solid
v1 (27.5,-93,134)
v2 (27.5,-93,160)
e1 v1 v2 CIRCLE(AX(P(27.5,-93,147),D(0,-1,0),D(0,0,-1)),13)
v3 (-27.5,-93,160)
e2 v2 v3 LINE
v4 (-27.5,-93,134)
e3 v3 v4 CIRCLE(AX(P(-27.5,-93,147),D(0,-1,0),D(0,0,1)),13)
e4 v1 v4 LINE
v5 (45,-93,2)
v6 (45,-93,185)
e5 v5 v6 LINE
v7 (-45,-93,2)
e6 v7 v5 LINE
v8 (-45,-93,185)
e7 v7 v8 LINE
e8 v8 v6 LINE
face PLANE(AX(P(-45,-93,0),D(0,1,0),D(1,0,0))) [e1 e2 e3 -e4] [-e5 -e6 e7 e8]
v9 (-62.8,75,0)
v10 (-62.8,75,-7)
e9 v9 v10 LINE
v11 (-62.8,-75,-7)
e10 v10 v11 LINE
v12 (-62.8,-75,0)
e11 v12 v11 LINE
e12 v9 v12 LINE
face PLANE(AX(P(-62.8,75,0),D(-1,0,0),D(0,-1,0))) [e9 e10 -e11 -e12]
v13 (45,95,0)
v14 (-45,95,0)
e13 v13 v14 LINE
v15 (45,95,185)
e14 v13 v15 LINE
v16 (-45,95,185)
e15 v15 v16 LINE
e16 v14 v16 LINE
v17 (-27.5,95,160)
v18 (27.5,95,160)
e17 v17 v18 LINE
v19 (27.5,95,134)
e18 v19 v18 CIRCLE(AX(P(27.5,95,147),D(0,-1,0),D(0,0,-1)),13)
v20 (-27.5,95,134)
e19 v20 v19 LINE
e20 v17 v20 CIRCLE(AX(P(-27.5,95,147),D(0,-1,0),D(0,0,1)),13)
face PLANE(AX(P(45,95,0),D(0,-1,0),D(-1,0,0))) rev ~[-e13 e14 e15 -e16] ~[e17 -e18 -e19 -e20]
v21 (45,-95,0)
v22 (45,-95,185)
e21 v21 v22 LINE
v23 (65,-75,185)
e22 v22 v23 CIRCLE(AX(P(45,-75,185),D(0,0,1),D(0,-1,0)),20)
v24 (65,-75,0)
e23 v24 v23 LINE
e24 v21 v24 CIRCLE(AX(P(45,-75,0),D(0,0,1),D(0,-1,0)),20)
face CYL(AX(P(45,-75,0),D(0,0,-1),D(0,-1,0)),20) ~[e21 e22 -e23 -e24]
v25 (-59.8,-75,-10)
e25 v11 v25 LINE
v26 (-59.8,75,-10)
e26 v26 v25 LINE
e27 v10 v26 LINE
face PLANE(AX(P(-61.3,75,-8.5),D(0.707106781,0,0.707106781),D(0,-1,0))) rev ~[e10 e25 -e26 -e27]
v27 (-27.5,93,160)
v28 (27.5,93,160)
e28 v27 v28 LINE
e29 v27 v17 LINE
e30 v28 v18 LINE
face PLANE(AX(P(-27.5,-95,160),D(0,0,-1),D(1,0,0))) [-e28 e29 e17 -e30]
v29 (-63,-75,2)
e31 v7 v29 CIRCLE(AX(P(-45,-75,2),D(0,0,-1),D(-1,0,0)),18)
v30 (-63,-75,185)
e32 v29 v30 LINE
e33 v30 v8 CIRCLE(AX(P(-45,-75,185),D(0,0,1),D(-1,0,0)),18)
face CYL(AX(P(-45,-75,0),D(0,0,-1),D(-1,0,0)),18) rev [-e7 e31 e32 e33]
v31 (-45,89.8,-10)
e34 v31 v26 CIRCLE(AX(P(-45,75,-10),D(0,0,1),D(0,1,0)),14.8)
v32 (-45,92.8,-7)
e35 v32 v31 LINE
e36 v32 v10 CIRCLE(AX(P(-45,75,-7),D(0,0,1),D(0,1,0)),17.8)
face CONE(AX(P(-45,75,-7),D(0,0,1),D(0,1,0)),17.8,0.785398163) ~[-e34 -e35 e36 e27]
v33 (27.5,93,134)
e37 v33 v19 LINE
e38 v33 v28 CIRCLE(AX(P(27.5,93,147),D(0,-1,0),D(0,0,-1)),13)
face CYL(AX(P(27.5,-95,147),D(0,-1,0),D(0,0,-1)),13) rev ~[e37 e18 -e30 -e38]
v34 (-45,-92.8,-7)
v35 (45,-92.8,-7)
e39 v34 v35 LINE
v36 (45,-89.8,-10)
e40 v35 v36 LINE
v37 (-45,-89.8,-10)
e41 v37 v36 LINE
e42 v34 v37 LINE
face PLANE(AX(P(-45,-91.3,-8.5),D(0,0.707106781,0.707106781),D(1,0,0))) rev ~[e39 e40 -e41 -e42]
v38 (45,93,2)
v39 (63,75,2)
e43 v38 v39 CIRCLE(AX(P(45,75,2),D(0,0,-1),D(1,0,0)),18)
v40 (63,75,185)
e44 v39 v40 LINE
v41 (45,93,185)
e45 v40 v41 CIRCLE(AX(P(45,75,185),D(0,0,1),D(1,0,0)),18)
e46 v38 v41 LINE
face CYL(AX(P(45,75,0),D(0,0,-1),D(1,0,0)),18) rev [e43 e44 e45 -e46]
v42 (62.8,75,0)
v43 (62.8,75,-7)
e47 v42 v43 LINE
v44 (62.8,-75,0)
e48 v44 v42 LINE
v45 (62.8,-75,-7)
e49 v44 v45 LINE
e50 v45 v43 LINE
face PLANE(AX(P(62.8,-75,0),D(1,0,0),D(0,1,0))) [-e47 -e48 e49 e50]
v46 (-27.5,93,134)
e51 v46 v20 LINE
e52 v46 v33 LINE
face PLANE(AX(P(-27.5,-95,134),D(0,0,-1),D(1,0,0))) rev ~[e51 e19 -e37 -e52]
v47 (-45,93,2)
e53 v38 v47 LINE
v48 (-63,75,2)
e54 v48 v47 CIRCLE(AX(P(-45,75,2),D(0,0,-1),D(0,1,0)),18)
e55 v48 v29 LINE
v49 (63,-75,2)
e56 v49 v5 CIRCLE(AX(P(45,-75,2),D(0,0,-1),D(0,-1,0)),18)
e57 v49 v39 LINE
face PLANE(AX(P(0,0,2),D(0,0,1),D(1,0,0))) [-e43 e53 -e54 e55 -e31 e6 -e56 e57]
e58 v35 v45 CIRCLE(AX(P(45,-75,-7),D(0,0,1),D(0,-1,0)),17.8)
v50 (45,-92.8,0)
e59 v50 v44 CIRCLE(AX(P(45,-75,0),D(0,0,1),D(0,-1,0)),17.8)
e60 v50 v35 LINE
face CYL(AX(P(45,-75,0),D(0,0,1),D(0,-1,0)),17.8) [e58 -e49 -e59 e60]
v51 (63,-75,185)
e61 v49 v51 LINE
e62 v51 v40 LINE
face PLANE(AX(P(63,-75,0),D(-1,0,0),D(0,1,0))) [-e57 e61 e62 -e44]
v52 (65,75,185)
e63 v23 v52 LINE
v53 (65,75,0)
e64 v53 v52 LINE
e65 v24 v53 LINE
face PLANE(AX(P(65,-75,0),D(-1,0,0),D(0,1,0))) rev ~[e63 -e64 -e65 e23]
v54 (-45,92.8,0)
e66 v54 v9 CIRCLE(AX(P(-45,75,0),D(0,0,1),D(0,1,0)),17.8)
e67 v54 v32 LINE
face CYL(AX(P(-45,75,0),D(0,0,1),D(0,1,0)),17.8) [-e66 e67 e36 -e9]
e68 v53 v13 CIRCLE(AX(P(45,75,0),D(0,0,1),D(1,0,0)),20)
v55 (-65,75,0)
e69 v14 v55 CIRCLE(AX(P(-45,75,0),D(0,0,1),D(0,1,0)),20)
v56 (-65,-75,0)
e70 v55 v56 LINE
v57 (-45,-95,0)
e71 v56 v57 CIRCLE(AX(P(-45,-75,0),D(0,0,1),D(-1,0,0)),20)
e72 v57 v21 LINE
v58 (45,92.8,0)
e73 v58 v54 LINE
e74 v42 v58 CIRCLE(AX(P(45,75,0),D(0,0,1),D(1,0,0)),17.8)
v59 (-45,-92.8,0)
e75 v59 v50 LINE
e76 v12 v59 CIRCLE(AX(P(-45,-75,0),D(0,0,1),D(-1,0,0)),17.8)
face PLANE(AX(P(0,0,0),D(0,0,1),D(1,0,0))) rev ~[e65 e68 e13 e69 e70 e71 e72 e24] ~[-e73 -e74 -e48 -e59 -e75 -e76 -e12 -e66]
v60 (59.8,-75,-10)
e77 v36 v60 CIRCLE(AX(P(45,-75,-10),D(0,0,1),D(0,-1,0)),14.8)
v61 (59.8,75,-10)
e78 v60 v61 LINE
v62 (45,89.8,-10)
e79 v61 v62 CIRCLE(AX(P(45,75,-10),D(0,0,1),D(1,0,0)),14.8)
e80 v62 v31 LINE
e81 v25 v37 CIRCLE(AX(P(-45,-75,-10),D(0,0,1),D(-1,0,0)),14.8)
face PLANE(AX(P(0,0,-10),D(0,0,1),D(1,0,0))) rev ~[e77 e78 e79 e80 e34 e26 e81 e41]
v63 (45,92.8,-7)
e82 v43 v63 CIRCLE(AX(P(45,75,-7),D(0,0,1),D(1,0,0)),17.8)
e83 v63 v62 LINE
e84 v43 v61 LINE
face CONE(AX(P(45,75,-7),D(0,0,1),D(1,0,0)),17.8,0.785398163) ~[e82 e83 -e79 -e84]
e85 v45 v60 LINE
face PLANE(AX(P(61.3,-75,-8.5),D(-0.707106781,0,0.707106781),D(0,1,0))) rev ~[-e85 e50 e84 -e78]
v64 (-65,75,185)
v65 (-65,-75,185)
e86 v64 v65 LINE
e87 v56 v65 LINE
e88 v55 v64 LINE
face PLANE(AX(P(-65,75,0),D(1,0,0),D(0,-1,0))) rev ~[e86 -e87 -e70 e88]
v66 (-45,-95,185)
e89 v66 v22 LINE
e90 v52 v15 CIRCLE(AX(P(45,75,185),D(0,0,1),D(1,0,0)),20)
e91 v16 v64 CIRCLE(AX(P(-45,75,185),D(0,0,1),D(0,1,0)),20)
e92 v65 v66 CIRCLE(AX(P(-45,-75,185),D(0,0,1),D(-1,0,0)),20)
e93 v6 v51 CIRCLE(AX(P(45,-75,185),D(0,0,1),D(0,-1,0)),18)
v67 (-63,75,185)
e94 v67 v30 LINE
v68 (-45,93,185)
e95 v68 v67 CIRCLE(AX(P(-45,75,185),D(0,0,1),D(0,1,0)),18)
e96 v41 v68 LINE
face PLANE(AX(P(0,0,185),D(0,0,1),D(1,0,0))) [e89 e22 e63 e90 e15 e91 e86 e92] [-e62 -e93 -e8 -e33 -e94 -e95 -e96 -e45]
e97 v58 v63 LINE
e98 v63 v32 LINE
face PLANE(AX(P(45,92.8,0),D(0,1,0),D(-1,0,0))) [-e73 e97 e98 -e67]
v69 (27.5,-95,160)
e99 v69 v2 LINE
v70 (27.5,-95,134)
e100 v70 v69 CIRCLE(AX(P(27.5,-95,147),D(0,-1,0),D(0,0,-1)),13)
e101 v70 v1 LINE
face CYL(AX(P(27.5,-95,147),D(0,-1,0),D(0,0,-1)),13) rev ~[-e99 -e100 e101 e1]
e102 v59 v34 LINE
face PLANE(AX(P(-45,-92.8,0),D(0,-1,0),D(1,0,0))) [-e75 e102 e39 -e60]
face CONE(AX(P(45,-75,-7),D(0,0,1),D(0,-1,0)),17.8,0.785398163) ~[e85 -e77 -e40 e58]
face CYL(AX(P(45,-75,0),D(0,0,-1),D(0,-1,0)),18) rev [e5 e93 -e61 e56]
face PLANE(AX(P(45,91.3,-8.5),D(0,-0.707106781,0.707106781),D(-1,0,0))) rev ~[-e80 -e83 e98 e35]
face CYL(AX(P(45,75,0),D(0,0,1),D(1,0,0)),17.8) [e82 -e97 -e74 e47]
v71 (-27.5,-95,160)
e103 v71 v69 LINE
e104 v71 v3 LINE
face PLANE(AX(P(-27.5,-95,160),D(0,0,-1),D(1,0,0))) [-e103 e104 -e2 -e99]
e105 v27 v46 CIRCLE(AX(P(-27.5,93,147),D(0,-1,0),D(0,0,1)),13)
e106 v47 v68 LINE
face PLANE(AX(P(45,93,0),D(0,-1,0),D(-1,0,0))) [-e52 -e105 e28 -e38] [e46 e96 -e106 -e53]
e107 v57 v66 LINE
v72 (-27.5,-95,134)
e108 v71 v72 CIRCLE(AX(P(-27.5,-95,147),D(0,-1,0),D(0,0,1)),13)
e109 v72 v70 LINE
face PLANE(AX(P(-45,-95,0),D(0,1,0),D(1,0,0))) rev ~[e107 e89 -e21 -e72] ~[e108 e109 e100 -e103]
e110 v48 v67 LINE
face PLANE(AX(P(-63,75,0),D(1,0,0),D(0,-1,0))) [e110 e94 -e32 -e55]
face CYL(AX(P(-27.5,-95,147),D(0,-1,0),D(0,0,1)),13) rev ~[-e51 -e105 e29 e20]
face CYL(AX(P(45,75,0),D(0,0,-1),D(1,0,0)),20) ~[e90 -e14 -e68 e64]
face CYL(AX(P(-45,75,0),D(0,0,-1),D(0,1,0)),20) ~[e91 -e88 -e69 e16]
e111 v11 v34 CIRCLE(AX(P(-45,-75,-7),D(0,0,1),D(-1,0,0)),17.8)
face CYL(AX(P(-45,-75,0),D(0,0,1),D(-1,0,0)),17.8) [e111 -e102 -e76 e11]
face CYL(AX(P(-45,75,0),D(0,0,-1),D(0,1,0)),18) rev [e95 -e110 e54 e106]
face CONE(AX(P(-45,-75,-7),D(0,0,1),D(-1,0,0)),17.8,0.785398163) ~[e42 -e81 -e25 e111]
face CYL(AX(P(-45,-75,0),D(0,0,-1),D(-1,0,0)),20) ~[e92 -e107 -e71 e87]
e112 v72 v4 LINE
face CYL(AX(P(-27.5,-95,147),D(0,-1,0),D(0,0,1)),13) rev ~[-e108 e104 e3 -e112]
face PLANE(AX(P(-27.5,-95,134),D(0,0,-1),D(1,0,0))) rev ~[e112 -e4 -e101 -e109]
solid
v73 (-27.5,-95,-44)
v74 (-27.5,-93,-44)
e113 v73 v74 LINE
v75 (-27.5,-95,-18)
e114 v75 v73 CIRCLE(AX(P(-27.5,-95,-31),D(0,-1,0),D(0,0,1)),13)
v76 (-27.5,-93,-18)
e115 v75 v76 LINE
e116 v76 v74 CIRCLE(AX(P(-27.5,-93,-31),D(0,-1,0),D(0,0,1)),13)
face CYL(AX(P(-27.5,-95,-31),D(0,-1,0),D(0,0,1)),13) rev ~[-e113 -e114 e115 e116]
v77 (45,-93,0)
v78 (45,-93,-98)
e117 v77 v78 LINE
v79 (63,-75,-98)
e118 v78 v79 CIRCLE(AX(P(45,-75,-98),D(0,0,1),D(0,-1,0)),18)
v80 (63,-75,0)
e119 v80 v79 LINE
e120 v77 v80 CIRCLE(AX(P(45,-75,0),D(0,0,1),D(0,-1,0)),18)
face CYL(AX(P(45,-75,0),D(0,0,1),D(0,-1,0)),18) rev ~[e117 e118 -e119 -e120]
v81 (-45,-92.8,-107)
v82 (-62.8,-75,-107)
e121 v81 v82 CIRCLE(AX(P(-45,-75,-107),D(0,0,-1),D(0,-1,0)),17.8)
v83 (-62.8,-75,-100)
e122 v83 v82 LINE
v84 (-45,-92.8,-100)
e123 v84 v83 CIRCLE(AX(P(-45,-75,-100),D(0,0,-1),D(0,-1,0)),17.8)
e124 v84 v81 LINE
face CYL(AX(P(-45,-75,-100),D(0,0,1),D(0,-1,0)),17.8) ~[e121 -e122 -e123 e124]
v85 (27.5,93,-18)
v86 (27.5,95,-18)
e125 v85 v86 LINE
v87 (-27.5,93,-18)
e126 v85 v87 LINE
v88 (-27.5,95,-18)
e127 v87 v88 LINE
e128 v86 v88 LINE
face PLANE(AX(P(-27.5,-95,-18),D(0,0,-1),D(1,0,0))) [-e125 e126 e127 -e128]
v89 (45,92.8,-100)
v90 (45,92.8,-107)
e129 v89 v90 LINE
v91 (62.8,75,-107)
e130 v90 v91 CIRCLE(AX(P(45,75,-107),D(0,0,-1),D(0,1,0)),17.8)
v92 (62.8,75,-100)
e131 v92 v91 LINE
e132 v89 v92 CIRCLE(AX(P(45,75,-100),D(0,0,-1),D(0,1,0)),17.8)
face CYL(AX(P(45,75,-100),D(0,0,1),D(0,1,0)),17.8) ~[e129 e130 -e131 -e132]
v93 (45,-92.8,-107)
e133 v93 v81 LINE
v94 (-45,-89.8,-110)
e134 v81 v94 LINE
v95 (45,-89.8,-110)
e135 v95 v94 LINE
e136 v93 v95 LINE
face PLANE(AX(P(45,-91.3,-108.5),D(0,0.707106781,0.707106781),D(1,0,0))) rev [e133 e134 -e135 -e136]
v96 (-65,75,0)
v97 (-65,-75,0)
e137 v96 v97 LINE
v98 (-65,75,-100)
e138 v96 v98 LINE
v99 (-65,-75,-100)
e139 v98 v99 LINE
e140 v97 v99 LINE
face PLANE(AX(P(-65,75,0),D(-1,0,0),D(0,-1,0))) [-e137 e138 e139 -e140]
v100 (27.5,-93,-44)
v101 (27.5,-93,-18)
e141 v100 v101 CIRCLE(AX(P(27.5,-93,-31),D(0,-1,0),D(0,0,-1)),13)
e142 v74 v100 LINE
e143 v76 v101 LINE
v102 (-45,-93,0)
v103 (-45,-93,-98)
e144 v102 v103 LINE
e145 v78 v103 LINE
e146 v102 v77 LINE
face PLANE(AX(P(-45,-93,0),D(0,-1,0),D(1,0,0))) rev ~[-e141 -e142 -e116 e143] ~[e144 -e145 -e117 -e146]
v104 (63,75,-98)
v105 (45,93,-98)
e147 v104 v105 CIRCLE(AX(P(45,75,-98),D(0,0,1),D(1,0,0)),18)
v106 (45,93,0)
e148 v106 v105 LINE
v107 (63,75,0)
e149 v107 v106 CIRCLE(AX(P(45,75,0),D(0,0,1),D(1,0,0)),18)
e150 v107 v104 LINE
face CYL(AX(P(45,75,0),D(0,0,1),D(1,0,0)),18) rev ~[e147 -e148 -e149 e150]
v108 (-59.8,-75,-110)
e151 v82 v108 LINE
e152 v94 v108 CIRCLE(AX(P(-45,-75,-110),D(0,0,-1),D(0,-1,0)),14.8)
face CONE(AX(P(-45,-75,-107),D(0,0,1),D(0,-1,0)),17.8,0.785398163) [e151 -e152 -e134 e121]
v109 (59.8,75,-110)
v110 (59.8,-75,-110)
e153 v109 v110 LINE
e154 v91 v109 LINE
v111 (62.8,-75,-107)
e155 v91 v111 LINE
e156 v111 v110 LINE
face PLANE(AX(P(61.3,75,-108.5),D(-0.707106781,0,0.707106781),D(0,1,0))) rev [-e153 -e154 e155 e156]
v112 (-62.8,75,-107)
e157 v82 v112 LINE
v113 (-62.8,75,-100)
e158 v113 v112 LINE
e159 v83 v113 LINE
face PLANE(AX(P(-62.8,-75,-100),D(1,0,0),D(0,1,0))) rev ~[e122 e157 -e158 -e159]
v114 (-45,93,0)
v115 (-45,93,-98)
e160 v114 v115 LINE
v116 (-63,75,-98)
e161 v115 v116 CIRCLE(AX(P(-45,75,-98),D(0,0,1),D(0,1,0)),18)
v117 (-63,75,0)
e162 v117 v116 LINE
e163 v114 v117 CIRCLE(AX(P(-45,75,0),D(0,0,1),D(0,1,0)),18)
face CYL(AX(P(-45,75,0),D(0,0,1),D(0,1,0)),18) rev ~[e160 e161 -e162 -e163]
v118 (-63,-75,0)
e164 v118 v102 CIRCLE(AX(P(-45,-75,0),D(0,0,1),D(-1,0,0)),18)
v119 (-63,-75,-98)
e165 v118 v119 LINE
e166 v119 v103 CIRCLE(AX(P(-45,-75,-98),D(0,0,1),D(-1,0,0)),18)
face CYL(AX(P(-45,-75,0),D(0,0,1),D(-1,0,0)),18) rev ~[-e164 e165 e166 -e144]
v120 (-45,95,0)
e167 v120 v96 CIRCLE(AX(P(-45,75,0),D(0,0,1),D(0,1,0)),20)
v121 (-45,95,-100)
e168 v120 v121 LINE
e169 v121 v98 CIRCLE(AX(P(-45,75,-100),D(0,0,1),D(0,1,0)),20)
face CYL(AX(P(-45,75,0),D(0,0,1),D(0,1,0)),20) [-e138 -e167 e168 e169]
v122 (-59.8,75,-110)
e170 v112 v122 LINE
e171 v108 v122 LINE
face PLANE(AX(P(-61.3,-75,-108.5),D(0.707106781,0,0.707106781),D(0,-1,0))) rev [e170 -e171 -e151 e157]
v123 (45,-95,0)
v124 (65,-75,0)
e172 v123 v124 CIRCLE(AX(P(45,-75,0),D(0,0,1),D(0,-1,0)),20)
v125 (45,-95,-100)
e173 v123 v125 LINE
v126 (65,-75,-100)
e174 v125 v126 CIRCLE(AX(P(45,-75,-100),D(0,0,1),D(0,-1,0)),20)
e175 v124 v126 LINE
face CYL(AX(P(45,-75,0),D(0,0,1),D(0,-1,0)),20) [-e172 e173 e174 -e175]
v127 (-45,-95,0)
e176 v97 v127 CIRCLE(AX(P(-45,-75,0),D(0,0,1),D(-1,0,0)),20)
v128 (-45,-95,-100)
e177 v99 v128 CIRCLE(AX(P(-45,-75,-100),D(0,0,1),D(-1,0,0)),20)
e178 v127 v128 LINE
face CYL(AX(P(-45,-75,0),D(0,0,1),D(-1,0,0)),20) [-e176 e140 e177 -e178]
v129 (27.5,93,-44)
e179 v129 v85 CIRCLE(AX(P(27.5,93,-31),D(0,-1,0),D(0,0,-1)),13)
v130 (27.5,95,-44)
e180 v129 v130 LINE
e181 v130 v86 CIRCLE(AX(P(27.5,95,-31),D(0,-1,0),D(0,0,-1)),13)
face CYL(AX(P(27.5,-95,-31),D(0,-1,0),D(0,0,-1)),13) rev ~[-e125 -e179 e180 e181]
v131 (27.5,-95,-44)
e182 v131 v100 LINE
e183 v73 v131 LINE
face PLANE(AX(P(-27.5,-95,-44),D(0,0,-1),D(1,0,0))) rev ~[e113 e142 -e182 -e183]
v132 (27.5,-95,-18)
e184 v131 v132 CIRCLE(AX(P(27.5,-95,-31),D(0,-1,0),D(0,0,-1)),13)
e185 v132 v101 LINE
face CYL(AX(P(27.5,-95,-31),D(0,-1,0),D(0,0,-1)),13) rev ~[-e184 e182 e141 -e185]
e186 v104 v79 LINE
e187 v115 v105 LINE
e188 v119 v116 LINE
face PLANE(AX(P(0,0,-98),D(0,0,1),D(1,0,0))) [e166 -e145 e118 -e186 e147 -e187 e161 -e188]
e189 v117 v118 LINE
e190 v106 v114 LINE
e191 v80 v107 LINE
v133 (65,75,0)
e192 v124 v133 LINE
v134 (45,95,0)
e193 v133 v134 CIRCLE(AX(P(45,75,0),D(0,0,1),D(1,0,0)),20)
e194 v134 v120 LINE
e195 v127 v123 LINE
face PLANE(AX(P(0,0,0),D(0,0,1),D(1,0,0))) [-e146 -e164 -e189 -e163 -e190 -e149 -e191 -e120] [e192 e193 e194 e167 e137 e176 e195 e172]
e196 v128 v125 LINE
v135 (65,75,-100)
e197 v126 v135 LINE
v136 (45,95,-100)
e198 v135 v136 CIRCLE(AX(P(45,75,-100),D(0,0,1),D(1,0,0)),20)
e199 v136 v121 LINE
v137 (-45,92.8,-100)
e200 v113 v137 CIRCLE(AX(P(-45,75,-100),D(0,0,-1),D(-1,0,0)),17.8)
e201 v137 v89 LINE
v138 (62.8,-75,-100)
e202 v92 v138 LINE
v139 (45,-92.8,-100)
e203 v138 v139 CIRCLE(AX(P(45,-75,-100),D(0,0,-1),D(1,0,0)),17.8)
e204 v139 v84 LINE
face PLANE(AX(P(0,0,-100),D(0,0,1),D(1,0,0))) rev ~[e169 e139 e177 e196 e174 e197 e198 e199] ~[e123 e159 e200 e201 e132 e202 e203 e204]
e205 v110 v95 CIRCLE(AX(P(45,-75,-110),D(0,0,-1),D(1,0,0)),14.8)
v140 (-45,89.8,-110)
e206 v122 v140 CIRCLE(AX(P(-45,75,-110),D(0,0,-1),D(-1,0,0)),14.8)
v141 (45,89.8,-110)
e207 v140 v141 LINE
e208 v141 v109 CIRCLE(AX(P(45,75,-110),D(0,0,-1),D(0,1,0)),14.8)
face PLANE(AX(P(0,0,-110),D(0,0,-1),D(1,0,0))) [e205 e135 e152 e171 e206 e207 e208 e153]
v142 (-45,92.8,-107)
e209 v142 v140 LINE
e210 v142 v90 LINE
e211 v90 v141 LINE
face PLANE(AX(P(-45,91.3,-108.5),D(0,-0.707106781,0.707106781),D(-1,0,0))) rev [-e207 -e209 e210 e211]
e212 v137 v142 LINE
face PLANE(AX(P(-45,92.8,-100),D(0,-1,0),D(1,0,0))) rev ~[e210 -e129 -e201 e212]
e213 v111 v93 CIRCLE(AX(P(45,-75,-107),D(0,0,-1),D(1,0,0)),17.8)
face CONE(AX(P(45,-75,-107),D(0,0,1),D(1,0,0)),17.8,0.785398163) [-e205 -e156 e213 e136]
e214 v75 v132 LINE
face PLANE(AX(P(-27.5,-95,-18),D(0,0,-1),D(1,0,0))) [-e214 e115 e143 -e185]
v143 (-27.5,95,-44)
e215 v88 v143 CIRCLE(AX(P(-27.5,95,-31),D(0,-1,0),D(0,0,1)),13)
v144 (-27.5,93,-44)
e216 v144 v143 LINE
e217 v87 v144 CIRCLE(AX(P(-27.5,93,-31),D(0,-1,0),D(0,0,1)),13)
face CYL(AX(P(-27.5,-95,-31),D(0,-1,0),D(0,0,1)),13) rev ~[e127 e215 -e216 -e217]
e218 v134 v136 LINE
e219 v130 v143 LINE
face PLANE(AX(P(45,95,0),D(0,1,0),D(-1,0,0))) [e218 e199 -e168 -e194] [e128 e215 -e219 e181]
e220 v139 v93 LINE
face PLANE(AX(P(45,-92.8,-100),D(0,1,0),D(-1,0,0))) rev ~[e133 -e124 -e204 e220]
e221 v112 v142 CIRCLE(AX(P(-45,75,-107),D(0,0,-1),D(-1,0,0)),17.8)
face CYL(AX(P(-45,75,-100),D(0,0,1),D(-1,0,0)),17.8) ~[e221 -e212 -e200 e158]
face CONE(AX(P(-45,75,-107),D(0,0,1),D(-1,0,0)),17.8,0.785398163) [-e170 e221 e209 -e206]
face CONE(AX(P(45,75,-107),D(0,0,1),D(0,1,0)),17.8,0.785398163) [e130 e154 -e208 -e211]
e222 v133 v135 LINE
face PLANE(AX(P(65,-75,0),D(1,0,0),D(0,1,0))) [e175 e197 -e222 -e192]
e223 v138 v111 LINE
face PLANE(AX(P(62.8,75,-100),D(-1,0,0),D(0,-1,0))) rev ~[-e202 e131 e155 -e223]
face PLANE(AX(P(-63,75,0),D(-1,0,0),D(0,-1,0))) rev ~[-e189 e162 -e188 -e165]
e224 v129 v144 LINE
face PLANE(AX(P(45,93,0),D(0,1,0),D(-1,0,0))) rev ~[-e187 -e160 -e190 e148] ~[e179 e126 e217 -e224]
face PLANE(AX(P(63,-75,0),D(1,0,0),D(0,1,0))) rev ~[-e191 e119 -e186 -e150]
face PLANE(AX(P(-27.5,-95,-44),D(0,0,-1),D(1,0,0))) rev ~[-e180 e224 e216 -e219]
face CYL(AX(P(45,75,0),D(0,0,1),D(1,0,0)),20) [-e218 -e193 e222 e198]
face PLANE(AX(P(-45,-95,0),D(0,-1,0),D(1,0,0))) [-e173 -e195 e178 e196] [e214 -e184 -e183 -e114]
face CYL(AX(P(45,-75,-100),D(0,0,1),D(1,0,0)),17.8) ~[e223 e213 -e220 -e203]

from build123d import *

# Parameters (mm, degrees)
F2_DEPTH  = 185
F3_T      = -2
F4_DEPTH  = 10
F5_DEPTH  = 100
F6_T      = -2
F8_DEPTH  = 10
F9_SIZE   = 3
F9_2_SIZE = 3
F10_W     = 55
F10_H     = 26
F11_DEPTH = 190.001


with BuildPart() as f2:
    # F1 (on Top) → F2 (new body)
    with BuildSketch(Plane.XY):
        with BuildLine():
            ThreePointArc((65, 75), (59.1421356237, 89.1421356237), (45, 95))
            Line((45, 95), (-45, 95))
            ThreePointArc((-45, 95), (-59.1421356237, 89.1421356237), (-65, 75))
            Line((-65, 75), (-65, -75))
            ThreePointArc((-65, -75), (-59.1421356237, -89.1421356237), (-45, -95))
            Line((-45, -95), (45, -95))
            ThreePointArc((45, -95), (59.1421356237, -89.1421356237), (65, -75))
            Line((65, -75), (65, 75))
        make_face()
        with BuildLine():
            Line((-62.8, -75), (-62.8, 75))
            ThreePointArc((-62.8, 75), (-57.5865007051, 87.5865007051), (-45, 92.8))
            Line((-45, 92.8), (45, 92.8))
            ThreePointArc((45, 92.8), (57.5865007051, 87.5865007051), (62.8, 75))
            Line((62.8, 75), (62.8, -75))
            ThreePointArc((62.8, -75), (57.5865007051, -87.5865007051), (45, -92.8))
            Line((45, -92.8), (-45, -92.8))
            ThreePointArc((-45, -92.8), (-57.5865007051, -87.5865007051), (-62.8, -75))
        make_face(mode=Mode.SUBTRACT)
        with BuildLine():
            ThreePointArc((-45, 92.8), (-57.5865007051, 87.5865007051), (-62.8, 75))
            Line((-62.8, 75), (-62.8, -75))
            ThreePointArc((-62.8, -75), (-57.5865007051, -87.5865007051), (-45, -92.8))
            Line((-45, -92.8), (45, -92.8))
            ThreePointArc((45, -92.8), (57.5865007051, -87.5865007051), (62.8, -75))
            Line((62.8, -75), (62.8, 75))
            ThreePointArc((62.8, 75), (57.5865007051, 87.5865007051), (45, 92.8))
            Line((45, 92.8), (-45, 92.8))
        make_face()
    extrude(amount=F2_DEPTH)

    # F3
    f3_openings = [f2.faces().sort_by_distance(p)[0] for p in [
        (0, 0, 185),
    ]]
    offset(amount=F3_T, openings=f3_openings)

    # F1 (on Top) → F4 (join)
    with BuildSketch(Plane.XY):
        with BuildLine():
            ThreePointArc((-45, 92.8), (-57.5865007051, 87.5865007051), (-62.8, 75))
            Line((-62.8, 75), (-62.8, -75))
            ThreePointArc((-62.8, -75), (-57.5865007051, -87.5865007051), (-45, -92.8))
            Line((-45, -92.8), (45, -92.8))
            ThreePointArc((45, -92.8), (57.5865007051, -87.5865007051), (62.8, -75))
            Line((62.8, -75), (62.8, 75))
            ThreePointArc((62.8, 75), (57.5865007051, 87.5865007051), (45, 92.8))
            Line((45, 92.8), (-45, 92.8))
        make_face()
    extrude(amount=-F4_DEPTH)

    # F9#2
    f9_2_edges = [f2.edges().sort_by_distance(p)[0] for p in [
        (-57.586501, 87.586501, -10),
        (-62.8, 0, -10),
        (-57.586501, -87.586501, -10),
        (0, -92.8, -10),
        (57.586501, -87.586501, -10),
        (62.8, 0, -10),
        (57.586501, 87.586501, -10),
        (0, 92.8, -10),
    ]]
    chamfer(f9_2_edges, length=F9_2_SIZE)


with BuildPart() as f5:
    # F1 (on Top) → F5 (new body)
    with BuildSketch(Plane.XY):
        with BuildLine():
            ThreePointArc((65, 75), (59.1421356237, 89.1421356237), (45, 95))
            Line((45, 95), (-45, 95))
            ThreePointArc((-45, 95), (-59.1421356237, 89.1421356237), (-65, 75))
            Line((-65, 75), (-65, -75))
            ThreePointArc((-65, -75), (-59.1421356237, -89.1421356237), (-45, -95))
            Line((-45, -95), (45, -95))
            ThreePointArc((45, -95), (59.1421356237, -89.1421356237), (65, -75))
            Line((65, -75), (65, 75))
        make_face()
        with BuildLine():
            Line((-62.8, -75), (-62.8, 75))
            ThreePointArc((-62.8, 75), (-57.5865007051, 87.5865007051), (-45, 92.8))
            Line((-45, 92.8), (45, 92.8))
            ThreePointArc((45, 92.8), (57.5865007051, 87.5865007051), (62.8, 75))
            Line((62.8, 75), (62.8, -75))
            ThreePointArc((62.8, -75), (57.5865007051, -87.5865007051), (45, -92.8))
            Line((45, -92.8), (-45, -92.8))
            ThreePointArc((-45, -92.8), (-57.5865007051, -87.5865007051), (-62.8, -75))
        make_face(mode=Mode.SUBTRACT)
        with BuildLine():
            ThreePointArc((-45, 92.8), (-57.5865007051, 87.5865007051), (-62.8, 75))
            Line((-62.8, 75), (-62.8, -75))
            ThreePointArc((-62.8, -75), (-57.5865007051, -87.5865007051), (-45, -92.8))
            Line((-45, -92.8), (45, -92.8))
            ThreePointArc((45, -92.8), (57.5865007051, -87.5865007051), (62.8, -75))
            Line((62.8, -75), (62.8, 75))
            ThreePointArc((62.8, 75), (57.5865007051, 87.5865007051), (45, 92.8))
            Line((45, 92.8), (-45, 92.8))
        make_face()
    extrude(amount=-F5_DEPTH)

    # F6
    f6_openings = [f5.faces().sort_by_distance(p)[0] for p in [
        (0, 0, 0),
    ]]
    offset(amount=F6_T, openings=f6_openings)

    # F7 (on face) → F8 (join)
    with BuildSketch(Plane(origin=(0, 0, -100), x_dir=(1, 0, 0), z_dir=(0, 0, -1))):
        with BuildLine():
            Line((62.8, -75), (62.8, 75))
            ThreePointArc((62.8, 75), (57.5865007051, 87.5865007051), (45, 92.8))
            Line((45, 92.8), (-45, 92.8))
            ThreePointArc((-45, 92.8), (-57.5865007051, 87.5865007051), (-62.8, 75))
            Line((-62.8, 75), (-62.8, -75))
            ThreePointArc((-62.8, -75), (-57.5865007051, -87.5865007051), (-45, -92.8))
            Line((-45, -92.8), (45, -92.8))
            ThreePointArc((45, -92.8), (57.5865007051, -87.5865007051), (62.8, -75))
        make_face()
    extrude(amount=F8_DEPTH)

    # F9
    f9_edges = [f5.edges().sort_by_distance(p)[0] for p in [
        (62.8, 0, -110),
        (57.586501, -87.586501, -110),
        (0, -92.8, -110),
        (-57.586501, -87.586501, -110),
        (-62.8, 0, -110),
        (-57.586501, 87.586501, -110),
        (0, 92.8, -110),
        (57.586501, 87.586501, -110),
    ]]
    chamfer(f9_edges, length=F9_SIZE)


with BuildPart() as f11_tool:
    # F10 (on face) → F11 (new body, through all)
    with BuildSketch(Plane.XZ.offset(95)):
        with Locations((0, 147)):
            Rectangle(F10_W, F10_H)
        with BuildLine():
            ThreePointArc((27.5, 134), (40.5, 147), (27.5, 160))
            Line((27.5, 160), (27.5, 134))
        make_face()
        with BuildLine():
            Line((-27.5, 134), (-27.5, 160))
            ThreePointArc((-27.5, 160), (-40.5, 147), (-27.5, 134))
        make_face()
        with Locations((0, -31)):
            Rectangle(F10_W, F10_H)
        with BuildLine():
            ThreePointArc((27.5, -44), (40.5, -31), (27.5, -18))
            Line((27.5, -18), (27.5, -44))
        make_face()
        with BuildLine():
            Line((-27.5, -44), (-27.5, -18))
            ThreePointArc((-27.5, -18), (-40.5, -31), (-27.5, -44))
        make_face()
    extrude(amount=-F11_DEPTH)


with BuildPart() as f2_1:
    add(f2.part)

    # F11: cut by f11_tool
    add(f11_tool.part, mode=Mode.SUBTRACT)


with BuildPart() as f5_1:
    add(f5.part)

    # F11: cut by f11_tool
    add(f11_tool.part, mode=Mode.SUBTRACT)


solid = Compound([f2_1.part, f5_1.part])
